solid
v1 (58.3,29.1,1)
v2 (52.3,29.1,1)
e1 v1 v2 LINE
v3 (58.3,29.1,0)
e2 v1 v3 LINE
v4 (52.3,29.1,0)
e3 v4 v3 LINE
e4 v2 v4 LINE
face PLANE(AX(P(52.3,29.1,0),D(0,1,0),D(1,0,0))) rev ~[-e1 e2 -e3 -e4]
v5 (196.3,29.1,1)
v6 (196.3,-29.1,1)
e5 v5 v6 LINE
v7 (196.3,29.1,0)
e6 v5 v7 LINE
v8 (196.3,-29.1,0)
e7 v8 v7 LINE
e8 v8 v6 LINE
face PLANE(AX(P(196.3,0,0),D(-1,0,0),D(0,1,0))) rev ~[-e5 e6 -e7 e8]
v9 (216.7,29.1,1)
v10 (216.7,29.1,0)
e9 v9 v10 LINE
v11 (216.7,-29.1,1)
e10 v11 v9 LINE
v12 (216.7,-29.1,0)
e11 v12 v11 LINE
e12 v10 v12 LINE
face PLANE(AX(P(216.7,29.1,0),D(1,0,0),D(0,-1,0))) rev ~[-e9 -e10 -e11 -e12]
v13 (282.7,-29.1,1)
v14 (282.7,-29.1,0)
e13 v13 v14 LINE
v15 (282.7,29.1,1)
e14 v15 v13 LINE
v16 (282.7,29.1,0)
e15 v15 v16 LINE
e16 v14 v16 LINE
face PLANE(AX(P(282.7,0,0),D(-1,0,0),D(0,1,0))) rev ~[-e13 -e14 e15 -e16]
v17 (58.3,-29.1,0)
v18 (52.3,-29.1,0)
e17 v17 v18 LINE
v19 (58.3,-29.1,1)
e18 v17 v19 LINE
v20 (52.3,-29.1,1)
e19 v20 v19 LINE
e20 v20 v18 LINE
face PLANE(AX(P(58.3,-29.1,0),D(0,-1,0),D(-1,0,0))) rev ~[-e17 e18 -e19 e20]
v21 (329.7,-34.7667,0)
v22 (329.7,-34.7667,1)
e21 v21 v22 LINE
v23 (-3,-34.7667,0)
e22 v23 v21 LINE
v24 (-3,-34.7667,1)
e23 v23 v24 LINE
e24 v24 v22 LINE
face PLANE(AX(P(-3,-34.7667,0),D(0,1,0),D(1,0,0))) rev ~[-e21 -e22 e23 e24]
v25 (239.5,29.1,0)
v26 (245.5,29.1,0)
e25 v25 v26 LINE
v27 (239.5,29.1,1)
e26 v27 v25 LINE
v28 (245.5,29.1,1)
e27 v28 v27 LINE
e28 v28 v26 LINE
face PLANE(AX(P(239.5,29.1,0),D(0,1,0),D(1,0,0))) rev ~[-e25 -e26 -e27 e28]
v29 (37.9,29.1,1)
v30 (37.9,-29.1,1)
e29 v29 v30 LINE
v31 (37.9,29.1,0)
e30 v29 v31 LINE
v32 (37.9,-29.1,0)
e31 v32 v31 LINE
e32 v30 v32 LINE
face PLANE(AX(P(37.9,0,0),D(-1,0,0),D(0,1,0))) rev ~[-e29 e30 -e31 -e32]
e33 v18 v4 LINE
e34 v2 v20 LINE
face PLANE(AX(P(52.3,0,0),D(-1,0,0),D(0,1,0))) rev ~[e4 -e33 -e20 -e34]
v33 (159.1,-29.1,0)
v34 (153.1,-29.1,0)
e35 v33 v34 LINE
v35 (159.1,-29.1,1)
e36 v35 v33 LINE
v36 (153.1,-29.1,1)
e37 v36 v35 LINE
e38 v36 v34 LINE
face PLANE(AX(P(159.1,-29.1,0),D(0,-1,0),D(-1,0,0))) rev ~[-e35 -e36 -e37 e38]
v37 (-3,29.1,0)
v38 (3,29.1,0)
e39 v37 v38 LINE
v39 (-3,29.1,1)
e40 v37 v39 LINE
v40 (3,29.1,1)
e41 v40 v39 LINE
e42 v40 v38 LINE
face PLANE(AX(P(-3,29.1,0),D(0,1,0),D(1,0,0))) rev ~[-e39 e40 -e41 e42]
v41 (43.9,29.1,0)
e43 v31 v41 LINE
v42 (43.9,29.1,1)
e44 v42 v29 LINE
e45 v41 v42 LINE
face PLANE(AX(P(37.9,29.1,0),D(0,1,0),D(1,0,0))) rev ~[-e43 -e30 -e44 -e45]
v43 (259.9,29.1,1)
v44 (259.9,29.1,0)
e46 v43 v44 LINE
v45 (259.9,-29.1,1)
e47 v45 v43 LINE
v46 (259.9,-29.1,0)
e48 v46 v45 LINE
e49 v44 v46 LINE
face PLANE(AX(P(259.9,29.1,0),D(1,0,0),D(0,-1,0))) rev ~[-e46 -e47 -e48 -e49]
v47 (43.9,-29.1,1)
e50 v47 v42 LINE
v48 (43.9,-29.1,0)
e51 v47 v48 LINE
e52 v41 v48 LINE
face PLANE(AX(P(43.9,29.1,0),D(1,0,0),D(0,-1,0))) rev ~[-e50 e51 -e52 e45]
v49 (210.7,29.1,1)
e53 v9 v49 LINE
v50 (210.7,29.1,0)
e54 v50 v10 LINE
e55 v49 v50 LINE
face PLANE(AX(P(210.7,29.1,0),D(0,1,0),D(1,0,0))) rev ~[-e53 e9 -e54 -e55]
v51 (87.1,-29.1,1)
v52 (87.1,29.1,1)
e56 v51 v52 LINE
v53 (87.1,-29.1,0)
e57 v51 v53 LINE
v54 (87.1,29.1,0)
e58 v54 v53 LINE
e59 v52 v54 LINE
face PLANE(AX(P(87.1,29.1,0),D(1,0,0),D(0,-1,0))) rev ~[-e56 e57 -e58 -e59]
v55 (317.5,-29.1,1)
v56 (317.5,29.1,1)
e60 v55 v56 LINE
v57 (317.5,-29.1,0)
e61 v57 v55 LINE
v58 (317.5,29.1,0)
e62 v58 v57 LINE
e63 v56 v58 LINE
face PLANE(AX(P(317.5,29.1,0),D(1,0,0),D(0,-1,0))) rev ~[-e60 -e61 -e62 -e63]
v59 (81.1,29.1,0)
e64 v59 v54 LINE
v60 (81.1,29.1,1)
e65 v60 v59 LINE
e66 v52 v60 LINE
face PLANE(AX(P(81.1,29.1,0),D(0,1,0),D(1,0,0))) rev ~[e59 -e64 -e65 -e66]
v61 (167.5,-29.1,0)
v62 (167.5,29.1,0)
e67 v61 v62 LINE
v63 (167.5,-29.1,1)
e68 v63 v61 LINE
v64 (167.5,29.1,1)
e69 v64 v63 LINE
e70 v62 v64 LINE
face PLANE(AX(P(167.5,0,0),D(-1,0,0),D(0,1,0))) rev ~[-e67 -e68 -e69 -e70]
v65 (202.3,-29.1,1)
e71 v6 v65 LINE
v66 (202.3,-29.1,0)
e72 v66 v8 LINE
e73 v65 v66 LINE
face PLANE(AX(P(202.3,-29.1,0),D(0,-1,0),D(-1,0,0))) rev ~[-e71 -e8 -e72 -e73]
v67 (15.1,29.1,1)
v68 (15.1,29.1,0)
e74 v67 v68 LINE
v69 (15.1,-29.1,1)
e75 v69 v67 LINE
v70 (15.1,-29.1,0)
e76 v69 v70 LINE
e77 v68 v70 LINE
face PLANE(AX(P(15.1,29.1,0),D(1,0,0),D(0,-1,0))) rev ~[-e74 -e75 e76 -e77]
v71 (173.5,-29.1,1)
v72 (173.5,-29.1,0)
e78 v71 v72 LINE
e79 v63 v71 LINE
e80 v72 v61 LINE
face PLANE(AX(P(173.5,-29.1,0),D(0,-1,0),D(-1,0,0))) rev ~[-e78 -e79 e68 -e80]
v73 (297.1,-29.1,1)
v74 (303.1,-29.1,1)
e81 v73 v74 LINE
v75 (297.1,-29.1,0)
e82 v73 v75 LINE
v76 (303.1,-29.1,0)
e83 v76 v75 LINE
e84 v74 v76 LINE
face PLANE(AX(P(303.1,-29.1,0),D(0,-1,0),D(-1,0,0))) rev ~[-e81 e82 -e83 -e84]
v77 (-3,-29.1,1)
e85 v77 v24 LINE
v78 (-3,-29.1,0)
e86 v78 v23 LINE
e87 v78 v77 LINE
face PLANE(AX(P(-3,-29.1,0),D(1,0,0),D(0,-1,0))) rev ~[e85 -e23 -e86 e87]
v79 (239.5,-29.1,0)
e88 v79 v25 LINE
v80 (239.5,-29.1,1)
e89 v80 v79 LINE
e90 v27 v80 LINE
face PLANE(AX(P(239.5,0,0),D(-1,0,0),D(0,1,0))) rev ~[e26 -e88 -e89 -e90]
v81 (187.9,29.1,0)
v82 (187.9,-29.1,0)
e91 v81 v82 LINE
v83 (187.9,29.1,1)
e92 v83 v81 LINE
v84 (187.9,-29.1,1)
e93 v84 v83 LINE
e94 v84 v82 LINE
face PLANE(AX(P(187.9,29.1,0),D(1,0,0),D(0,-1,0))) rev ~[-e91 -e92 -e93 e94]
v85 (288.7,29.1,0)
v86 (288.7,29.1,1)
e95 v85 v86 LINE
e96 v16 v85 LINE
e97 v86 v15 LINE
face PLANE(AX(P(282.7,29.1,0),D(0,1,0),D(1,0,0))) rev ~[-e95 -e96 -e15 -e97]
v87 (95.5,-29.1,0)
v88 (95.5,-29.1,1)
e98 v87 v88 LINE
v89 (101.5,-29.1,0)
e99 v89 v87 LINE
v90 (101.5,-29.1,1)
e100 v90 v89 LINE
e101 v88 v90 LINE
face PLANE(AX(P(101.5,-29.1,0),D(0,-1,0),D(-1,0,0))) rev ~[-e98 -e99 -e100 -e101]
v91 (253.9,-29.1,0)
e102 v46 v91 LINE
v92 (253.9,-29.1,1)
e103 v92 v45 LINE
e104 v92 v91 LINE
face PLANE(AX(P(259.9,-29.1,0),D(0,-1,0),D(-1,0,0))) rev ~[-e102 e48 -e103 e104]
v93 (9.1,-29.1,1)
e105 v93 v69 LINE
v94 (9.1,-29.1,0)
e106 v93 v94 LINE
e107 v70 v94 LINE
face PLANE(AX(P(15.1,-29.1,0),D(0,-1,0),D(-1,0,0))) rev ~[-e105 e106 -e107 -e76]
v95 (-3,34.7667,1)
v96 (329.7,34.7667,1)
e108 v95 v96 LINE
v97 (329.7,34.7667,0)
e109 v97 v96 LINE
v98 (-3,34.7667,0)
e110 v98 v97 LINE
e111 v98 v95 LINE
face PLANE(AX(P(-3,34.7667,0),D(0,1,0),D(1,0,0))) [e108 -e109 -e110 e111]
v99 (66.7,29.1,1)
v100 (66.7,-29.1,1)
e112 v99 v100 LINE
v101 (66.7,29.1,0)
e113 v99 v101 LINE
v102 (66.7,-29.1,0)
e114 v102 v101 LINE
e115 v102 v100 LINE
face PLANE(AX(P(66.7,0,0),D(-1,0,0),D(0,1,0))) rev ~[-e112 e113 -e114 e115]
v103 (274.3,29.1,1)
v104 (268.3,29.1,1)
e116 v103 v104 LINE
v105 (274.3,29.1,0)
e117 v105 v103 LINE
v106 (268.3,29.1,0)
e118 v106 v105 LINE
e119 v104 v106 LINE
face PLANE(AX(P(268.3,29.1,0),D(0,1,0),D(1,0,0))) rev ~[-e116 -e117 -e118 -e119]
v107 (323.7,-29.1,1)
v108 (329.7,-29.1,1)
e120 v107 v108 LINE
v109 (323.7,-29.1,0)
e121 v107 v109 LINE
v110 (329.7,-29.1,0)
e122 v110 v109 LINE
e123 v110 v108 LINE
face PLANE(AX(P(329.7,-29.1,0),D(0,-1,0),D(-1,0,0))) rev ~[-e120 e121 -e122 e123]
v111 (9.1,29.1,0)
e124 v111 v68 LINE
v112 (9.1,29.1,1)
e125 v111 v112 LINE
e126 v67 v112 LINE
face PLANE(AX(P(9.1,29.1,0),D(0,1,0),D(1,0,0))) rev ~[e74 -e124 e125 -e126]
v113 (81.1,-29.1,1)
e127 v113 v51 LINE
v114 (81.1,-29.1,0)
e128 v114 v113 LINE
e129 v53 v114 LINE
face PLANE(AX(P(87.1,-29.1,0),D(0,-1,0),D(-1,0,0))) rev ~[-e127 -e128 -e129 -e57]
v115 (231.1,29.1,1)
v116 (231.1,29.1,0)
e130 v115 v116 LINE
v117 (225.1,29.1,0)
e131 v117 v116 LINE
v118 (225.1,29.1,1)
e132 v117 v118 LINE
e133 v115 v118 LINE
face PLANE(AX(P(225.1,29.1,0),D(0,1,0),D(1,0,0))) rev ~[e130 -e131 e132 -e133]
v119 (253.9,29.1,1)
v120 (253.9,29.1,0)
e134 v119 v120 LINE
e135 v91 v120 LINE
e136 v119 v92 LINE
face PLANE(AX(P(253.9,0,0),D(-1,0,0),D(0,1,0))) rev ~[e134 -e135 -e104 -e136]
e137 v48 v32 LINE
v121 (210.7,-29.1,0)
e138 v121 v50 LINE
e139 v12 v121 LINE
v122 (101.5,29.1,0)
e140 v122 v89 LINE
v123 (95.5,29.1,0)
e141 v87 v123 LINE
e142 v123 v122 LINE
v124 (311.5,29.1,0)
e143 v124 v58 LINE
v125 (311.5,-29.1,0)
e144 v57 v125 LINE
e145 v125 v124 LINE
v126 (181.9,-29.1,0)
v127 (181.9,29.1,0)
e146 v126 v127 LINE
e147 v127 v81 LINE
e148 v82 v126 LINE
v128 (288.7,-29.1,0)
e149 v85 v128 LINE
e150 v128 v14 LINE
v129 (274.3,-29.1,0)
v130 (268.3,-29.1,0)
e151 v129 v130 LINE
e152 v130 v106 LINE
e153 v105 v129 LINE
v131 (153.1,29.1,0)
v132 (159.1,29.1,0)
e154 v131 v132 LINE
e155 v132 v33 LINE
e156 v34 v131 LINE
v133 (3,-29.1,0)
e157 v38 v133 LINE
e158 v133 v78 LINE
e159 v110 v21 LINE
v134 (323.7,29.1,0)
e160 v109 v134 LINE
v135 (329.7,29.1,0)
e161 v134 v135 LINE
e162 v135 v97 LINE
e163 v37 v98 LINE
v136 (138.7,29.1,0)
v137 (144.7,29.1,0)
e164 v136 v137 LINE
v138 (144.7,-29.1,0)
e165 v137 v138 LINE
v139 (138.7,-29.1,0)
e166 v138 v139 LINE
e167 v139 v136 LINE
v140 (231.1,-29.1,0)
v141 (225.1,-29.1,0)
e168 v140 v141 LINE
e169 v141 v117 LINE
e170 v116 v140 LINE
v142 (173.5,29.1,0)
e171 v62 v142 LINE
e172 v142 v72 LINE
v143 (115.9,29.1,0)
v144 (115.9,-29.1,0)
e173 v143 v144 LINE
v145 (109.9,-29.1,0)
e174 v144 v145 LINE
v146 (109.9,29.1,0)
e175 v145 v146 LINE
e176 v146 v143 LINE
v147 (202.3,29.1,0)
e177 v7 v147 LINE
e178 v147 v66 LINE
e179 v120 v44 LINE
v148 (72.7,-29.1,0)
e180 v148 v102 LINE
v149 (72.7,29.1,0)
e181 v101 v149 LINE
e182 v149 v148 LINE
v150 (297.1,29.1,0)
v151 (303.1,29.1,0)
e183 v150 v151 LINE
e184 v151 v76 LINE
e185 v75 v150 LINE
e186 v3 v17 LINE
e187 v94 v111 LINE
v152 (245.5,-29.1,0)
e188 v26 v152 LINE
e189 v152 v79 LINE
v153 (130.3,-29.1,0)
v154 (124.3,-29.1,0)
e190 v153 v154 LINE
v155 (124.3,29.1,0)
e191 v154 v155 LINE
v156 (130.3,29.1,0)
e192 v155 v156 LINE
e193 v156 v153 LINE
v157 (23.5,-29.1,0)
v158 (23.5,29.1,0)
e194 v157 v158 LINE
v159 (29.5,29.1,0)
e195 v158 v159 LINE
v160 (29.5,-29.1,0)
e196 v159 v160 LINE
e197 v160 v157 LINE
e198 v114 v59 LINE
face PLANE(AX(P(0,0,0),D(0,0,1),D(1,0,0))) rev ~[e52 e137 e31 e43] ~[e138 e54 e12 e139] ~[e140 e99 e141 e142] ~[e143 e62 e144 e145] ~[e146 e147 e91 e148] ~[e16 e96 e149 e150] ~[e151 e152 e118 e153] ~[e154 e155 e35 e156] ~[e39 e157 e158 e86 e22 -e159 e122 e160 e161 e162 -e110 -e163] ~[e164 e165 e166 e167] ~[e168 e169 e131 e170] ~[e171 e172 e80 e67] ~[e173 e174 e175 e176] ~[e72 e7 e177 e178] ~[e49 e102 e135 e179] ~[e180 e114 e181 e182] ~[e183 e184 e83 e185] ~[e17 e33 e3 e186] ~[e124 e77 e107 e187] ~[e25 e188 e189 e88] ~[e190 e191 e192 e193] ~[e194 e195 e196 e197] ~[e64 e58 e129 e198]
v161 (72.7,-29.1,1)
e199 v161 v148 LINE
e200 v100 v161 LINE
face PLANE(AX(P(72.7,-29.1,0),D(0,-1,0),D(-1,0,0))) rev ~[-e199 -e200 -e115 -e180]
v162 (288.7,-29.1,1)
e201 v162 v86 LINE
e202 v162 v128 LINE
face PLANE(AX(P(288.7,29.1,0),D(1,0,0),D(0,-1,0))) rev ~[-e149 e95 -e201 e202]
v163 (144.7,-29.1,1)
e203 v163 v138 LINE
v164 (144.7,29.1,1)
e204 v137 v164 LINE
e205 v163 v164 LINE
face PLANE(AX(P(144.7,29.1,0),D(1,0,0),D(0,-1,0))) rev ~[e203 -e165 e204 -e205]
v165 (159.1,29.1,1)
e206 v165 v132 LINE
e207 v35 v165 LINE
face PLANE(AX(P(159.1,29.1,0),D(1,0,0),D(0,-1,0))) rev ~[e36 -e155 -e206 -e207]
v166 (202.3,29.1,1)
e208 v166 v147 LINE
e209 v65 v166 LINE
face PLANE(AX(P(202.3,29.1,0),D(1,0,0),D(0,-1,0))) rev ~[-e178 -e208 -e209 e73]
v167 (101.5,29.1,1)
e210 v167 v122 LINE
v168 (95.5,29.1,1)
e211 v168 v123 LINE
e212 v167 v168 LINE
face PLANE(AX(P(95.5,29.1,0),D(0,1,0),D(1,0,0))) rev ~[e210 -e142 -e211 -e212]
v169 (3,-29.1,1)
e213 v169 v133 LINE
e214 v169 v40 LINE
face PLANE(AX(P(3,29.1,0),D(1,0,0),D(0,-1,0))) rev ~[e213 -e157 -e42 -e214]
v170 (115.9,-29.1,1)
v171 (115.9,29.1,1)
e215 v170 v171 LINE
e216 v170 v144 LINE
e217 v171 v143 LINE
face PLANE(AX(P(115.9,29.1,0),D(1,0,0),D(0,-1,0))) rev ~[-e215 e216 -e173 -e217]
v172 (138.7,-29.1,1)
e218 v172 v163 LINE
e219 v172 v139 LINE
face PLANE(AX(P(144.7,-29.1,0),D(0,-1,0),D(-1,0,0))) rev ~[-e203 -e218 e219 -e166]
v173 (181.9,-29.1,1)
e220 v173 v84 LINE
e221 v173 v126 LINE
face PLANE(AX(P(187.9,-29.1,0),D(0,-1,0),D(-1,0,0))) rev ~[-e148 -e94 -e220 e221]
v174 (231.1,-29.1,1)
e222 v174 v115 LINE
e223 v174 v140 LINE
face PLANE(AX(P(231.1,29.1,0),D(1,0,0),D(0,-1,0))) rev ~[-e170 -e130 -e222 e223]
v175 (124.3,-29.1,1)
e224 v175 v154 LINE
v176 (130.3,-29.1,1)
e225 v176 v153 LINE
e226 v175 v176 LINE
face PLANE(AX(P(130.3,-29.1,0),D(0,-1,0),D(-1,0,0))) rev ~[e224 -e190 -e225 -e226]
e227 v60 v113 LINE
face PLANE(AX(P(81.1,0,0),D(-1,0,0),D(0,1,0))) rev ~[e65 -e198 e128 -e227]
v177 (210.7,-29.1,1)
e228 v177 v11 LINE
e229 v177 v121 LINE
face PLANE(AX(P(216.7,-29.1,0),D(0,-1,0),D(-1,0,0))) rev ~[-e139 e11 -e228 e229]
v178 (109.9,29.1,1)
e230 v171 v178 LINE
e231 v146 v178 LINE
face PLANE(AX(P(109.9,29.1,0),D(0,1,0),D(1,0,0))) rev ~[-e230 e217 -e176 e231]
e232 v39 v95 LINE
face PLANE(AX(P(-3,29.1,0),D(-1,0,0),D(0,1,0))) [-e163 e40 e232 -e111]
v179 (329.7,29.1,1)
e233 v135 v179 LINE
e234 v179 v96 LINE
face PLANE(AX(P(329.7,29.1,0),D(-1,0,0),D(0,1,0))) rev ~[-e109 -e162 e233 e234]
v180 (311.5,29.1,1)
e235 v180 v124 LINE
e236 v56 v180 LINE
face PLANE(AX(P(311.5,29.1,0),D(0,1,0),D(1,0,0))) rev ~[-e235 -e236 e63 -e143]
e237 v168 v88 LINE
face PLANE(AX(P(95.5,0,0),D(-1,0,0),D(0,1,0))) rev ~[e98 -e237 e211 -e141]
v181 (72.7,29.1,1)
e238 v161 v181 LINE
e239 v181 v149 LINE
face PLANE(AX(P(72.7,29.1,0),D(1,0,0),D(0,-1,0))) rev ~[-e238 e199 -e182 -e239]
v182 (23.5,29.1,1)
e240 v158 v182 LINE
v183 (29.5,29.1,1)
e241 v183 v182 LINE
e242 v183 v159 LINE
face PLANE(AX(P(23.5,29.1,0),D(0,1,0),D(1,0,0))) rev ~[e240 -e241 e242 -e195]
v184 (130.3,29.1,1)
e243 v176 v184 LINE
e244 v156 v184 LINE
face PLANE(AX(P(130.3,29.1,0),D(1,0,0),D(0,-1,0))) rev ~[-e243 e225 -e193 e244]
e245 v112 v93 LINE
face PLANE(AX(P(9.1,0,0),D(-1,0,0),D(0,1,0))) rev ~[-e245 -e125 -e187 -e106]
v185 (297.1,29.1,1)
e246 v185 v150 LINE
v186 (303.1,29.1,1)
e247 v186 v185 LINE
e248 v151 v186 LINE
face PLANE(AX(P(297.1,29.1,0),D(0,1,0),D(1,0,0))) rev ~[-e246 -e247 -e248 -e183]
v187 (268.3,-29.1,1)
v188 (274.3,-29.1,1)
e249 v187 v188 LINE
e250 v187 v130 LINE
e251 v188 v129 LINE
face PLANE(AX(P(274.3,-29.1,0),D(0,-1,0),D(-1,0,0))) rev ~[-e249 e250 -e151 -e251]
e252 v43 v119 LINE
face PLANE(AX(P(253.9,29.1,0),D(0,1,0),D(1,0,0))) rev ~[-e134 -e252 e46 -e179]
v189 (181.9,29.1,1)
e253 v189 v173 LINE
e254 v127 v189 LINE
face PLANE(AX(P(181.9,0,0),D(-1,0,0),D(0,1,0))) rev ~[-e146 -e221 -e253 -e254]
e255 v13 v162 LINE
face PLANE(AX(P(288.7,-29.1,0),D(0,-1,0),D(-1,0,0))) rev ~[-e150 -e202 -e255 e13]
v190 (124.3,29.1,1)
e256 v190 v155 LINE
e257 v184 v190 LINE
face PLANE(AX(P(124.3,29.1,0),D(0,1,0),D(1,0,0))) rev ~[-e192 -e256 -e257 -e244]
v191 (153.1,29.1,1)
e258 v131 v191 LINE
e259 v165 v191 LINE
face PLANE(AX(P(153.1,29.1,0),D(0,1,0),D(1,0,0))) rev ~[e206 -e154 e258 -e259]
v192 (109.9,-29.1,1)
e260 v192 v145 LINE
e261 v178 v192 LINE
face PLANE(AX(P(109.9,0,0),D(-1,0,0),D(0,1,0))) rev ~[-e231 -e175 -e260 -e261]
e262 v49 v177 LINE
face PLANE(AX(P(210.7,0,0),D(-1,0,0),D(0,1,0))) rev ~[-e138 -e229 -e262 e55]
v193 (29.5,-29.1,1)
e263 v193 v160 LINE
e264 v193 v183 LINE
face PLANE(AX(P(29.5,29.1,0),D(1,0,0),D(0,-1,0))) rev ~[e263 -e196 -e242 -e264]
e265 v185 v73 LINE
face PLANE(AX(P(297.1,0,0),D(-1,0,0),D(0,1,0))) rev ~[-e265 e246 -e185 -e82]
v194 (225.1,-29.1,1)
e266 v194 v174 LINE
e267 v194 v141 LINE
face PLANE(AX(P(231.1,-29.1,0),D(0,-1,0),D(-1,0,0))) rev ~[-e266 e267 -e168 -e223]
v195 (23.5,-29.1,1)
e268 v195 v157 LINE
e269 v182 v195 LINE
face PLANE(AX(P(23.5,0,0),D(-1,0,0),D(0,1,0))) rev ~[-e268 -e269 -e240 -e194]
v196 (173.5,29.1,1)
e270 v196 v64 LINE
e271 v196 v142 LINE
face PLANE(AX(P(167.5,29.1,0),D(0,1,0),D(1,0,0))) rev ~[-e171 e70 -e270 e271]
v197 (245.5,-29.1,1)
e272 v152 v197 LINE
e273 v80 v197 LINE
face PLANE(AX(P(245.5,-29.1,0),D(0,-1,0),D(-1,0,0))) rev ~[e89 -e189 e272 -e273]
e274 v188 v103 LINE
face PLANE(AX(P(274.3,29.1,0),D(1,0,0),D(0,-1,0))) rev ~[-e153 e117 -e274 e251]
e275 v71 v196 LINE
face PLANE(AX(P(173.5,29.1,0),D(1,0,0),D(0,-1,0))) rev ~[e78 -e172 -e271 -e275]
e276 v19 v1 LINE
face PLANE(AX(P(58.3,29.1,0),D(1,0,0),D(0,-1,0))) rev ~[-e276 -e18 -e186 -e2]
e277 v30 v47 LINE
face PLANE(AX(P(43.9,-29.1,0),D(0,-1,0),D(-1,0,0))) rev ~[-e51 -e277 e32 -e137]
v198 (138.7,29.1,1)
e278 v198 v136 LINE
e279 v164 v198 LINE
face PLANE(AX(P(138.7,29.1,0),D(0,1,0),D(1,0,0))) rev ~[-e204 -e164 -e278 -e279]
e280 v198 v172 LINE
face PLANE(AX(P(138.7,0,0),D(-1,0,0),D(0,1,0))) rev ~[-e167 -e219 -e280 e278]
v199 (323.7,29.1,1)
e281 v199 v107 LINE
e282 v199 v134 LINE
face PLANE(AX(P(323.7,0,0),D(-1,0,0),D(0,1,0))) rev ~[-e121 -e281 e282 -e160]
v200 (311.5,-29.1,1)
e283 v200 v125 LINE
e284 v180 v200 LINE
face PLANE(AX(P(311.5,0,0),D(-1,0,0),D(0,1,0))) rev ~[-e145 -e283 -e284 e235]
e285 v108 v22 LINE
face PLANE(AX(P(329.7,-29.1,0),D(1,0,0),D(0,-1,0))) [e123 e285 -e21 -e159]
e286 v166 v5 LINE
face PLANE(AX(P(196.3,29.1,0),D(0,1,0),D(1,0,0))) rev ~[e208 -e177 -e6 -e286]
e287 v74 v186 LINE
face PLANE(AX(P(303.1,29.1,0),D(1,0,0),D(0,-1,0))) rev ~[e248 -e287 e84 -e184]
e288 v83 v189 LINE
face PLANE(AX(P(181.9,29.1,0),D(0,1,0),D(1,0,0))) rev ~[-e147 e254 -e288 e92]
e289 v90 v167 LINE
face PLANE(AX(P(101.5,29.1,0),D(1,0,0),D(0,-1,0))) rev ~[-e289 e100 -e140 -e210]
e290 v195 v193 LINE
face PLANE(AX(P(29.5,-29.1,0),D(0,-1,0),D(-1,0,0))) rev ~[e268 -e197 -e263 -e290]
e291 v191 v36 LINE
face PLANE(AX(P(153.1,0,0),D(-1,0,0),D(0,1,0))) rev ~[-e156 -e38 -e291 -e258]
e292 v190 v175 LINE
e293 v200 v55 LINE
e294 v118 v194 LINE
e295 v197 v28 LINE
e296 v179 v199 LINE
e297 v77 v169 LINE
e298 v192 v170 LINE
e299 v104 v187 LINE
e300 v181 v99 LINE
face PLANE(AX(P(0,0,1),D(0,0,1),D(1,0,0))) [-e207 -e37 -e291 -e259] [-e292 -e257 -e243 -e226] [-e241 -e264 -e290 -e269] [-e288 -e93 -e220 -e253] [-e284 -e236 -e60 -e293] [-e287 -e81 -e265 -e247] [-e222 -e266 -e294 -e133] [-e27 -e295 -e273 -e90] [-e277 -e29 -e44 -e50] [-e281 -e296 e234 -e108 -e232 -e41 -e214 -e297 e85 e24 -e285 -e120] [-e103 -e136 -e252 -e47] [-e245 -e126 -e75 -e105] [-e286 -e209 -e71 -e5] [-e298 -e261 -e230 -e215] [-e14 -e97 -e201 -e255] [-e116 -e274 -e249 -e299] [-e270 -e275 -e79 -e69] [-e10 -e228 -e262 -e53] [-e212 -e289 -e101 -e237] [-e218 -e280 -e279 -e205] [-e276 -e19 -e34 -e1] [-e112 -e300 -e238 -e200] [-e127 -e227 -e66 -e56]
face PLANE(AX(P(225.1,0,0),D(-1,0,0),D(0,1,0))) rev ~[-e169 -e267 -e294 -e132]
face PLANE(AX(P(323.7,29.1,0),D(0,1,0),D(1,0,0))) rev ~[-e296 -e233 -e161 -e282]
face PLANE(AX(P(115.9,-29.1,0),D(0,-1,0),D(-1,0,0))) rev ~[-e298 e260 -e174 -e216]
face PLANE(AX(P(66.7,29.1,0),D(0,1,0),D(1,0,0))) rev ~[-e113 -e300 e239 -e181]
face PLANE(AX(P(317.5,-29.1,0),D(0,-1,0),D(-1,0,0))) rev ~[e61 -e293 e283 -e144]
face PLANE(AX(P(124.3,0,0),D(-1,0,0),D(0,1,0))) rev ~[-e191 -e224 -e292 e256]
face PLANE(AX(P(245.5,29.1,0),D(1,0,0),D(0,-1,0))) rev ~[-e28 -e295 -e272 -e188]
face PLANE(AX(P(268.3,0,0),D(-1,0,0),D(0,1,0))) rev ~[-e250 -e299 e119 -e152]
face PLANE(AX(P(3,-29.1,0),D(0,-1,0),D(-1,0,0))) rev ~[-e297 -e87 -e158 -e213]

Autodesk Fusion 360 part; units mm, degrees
sketch "Skizze1" plane through (0, 0, 0) normal (0, 0, 1) x (1, 0, 0)
  line L0 (-3, 29.1) -> (3, 29.1)
  line L1 (3, 29.1) -> (3, 0)
  line L2 (3, 0) -> (-3, 0)
  line L3 (-3, 0) -> (-3, 29.1)
  line L4 (0, 29.1) -> (0, 0) construction
  line L5 (0, 0) -> (500, 0) construction
  line L6 (9.1, 29.1) -> (15.1, 29.1)
  line L7 (15.1, 29.1) -> (15.1, 0)
  line L8 (15.1, 0) -> (9.1, 0)
  line L9 (9.1, 0) -> (9.1, 29.1)
  line L10 (12.1, 29.1) -> (12.1, 0) construction
  line L11 (26.5, 29.1) -> (26.5, 0) construction
  line L12 (23.5, 29.1) -> (29.5, 29.1)
  line L13 (29.5, 0) -> (23.5, 0)
  line L14 (23.5, 0) -> (23.5, 29.1)
  line L15 (29.5, 29.1) -> (29.5, 0)
  line L16 (58.3, 0) -> (52.3, 0)
  line L17 (55.3, 29.1) -> (55.3, 0) construction
  line L18 (43.9, 29.1) -> (43.9, 0)
  line L19 (37.9, 29.1) -> (43.9, 29.1)
  line L20 (52.3, 29.1) -> (58.3, 29.1)
  line L21 (58.3, 29.1) -> (58.3, 0)
  line L22 (40.9, 29.1) -> (40.9, 0) construction
  line L23 (43.9, 0) -> (37.9, 0)
  line L24 (52.3, 0) -> (52.3, 29.1)
  line L25 (37.9, 0) -> (37.9, 29.1)
  line L26 (84.1, 29.1) -> (84.1, 0) construction
  line L27 (66.7, 0) -> (66.7, 29.1)
  line L28 (69.7, 29.1) -> (69.7, 0) construction
  line L29 (95.5, 0) -> (95.5, 29.1)
  line L30 (98.5, 29.1) -> (98.5, 0) construction
  line L31 (66.7, 29.1) -> (72.7, 29.1)
  line L32 (81.1, 0) -> (81.1, 29.1)
  line L33 (72.7, 29.1) -> (72.7, 0)
  line L34 (101.5, 29.1) -> (101.5, 0)
  line L35 (95.5, 29.1) -> (101.5, 29.1)
  line L36 (109.9, 29.1) -> (115.9, 29.1)
  line L37 (72.7, 0) -> (66.7, 0)
  line L38 (87.1, 0) -> (81.1, 0)
  line L39 (109.9, 0) -> (109.9, 29.1)
  line L40 (115.9, 0) -> (109.9, 0)
  line L41 (115.9, 29.1) -> (115.9, 0)
  line L42 (112.9, 29.1) -> (112.9, 0) construction
  line L43 (81.1, 29.1) -> (87.1, 29.1)
  line L44 (87.1, 29.1) -> (87.1, 0)
  line L45 (101.5, 0) -> (95.5, 0)
  line L46 (156.1, 29.1) -> (156.1, 0) construction
  line L47 (144.7, 29.1) -> (144.7, 0)
  line L48 (153.1, 29.1) -> (159.1, 29.1)
  line L49 (138.7, 29.1) -> (144.7, 29.1)
  line L50 (153.1, 0) -> (153.1, 29.1)
  line L51 (167.5, 29.1) -> (173.5, 29.1)
  line L52 (196.3, 0) -> (196.3, 29.1)
  line L53 (202.3, 0) -> (196.3, 0)
  line L54 (216.7, 0) -> (210.7, 0)
  line L55 (130.3, 29.1) -> (130.3, 0)
  line L56 (130.3, 0) -> (124.3, 0)
  line L57 (181.9, 29.1) -> (187.9, 29.1)
  line L58 (173.5, 29.1) -> (173.5, 0)
  line L59 (124.3, 0) -> (124.3, 29.1)
  line L60 (144.7, 0) -> (138.7, 0)
  line L61 (210.7, 0) -> (210.7, 29.1)
  line L62 (225.1, 29.1) -> (231.1, 29.1)
  line L63 (127.3, 29.1) -> (127.3, 0) construction
  line L64 (159.1, 29.1) -> (159.1, 0)
  line L65 (210.7, 29.1) -> (216.7, 29.1)
  line L66 (187.9, 0) -> (181.9, 0)
  line L67 (216.7, 29.1) -> (216.7, 0)
  line L68 (138.7, 0) -> (138.7, 29.1)
  line L69 (187.9, 29.1) -> (187.9, 0)
  line L70 (199.3, 29.1) -> (199.3, 0) construction
  line L71 (213.7, 29.1) -> (213.7, 0) construction
  line L72 (228.1, 29.1) -> (228.1, 0) construction
  line L73 (159.1, 0) -> (153.1, 0)
  line L74 (170.5, 29.1) -> (170.5, 0) construction
  line L75 (196.3, 29.1) -> (202.3, 29.1)
  line L76 (141.7, 29.1) -> (141.7, 0) construction
  line L77 (225.1, 0) -> (225.1, 29.1)
  line L78 (184.9, 29.1) -> (184.9, 0) construction
  line L79 (181.9, 0) -> (181.9, 29.1)
  line L80 (173.5, 0) -> (167.5, 0)
  line L81 (231.1, 29.1) -> (231.1, 0)
  line L82 (167.5, 0) -> (167.5, 29.1)
  line L83 (202.3, 29.1) -> (202.3, 0)
  line L84 (124.3, 29.1) -> (130.3, 29.1)
  line L85 (231.1, 0) -> (225.1, 0)
  line L86 (288.7, 29.1) -> (288.7, 0)
  line L87 (317.5, 0) -> (311.5, 0)
  line L88 (329.7, 29.1) -> (329.7, 0)
  line L89 (285.7, 29.1) -> (285.7, 0) construction
  line L90 (329.7, 0) -> (323.7, 0)
  line L91 (311.5, 29.1) -> (317.5, 29.1)
  line L92 (303.1, 29.1) -> (303.1, 0)
  line L93 (245.5, 0) -> (239.5, 0)
  line L94 (323.7, 29.1) -> (329.7, 29.1)
  line L95 (271.3, 29.1) -> (271.3, 0) construction
  line L96 (282.7, 29.1) -> (288.7, 29.1)
  line L97 (282.7, 0) -> (282.7, 29.1)
  line L98 (300.1, 29.1) -> (300.1, 0) construction
  line L99 (274.3, 29.1) -> (274.3, 0)
  line L100 (326.7, 29.1) -> (326.7, 0) construction
  line L101 (268.3, 0) -> (268.3, 29.1)
  line L102 (259.9, 0) -> (253.9, 0)
  line L103 (253.9, 29.1) -> (259.9, 29.1)
  line L104 (303.1, 0) -> (297.1, 0)
  line L105 (288.7, 0) -> (282.7, 0)
  line L106 (297.1, 29.1) -> (303.1, 29.1)
  line L107 (314.5, 29.1) -> (314.5, 0) construction
  line L108 (317.5, 29.1) -> (317.5, 0)
  line L109 (245.5, 29.1) -> (245.5, 0)
  line L110 (323.7, 0) -> (323.7, 29.1)
  line L111 (239.5, 29.1) -> (245.5, 29.1)
  line L112 (253.9, 0) -> (253.9, 29.1)
  line L113 (239.5, 0) -> (239.5, 29.1)
  line L114 (242.5, 29.1) -> (242.5, 0) construction
  line L115 (311.5, 0) -> (311.5, 29.1)
  line L116 (259.9, 29.1) -> (259.9, 0)
  line L117 (268.3, 29.1) -> (274.3, 29.1)
  line L118 (274.3, 0) -> (268.3, 0)
  line L119 (297.1, 0) -> (297.1, 29.1)
  line L120 (256.9, 29.1) -> (256.9, 0) construction
  dimension "d3" = 500
  dimension "d4" = 29.1
  dimension "d5" = 6
  dimension "d8" = 29.1
  dimension "d9" = 6
  dimension "d10" = 29.1
  dimension "d11" = 6
  dimension "d12" = 29.1
  dimension "d13" = 6
  dimension "d14" = 29.1
  dimension "d15" = 6
  dimension "d16" = 29.1
  dimension "d17" = 6
  dimension "d18" = 29.1
  dimension "d19" = 6
  dimension "d20" = 29.1
  dimension "d21" = 6
  dimension "d22" = 29.1
  dimension "d23" = 6
  dimension "d24" = 29.1
  dimension "d25" = 6
  dimension "d26" = 29.1
  dimension "d27" = 6
  dimension "d28" = 29.1
  dimension "d29" = 6
  dimension "d30" = 29.1
  dimension "d31" = 6
  dimension "d32" = 29.1
  dimension "d33" = 6
  dimension "d34" = 29.1
  dimension "d35" = 6
  dimension "d36" = 29.1
  dimension "d37" = 6
  dimension "d38" = 29.1
  dimension "d39" = 6
  dimension "d40" = 29.1
  dimension "d41" = 6
  dimension "d42" = 29.1
  dimension "d43" = 6
  dimension "d44" = 29.1
  dimension "d45" = 6
  dimension "d46" = 29.1
  dimension "d47" = 6
  dimension "d48" = 29.1
  dimension "d49" = 6
  dimension "d50" = 29.1
  dimension "d51" = 6
  dimension "d52" = 29.1
  dimension "d53" = 6
  dimension "d54" = 12.1
  dimension "d55" = 14.4
  dimension "d56" = 14.4
  dimension "d57" = 14.4
  dimension "d58" = 14.4
  dimension "d59" = 14.4
  dimension "d60" = 14.4
  dimension "d61" = 14.4
  dimension "d62" = 14.4
  dimension "d63" = 14.4
  dimension "d64" = 14.4
  dimension "d65" = 14.4
  dimension "d66" = 14.4
  dimension "d67" = 14.4
  dimension "d68" = 14.4
  dimension "d69" = 14.4
  dimension "d70" = 14.4
  dimension "d71" = 14.4
  dimension "d72" = 14.4
  dimension "d73" = 14.4
  dimension "d74" = 14.4
  dimension "d75" = 14.4
  dimension "d76" = 12.2
extrude "Extrusion1" add sketch "Skizze1" along normal blind 3 makes body 1 at (301.1, 19.4, 0) makes body 2 at (243.5, 9.7, 0) makes body 3 at (183.9, 19.4, 0) makes body 4 at (126.3, 9.7, 0) makes body 5 at (68.7, 19.4, 0) makes body 6 at (13.1, 9.7, 0) makes body 7 at (27.5, 9.7, 0) makes body 8 at (83.1, 9.7, 0) makes body 9 at (140.7, 19.4, 0) makes body 10 at (200.3, 9.7, 0) makes body 11 at (255.9, 9.7, 0) makes body 12 at (313.5, 9.7, 0) makes body 13 at (284.7, 9.7, 0) makes body 14 at (229.1, 9.7, 0) makes body 15 at (171.5, 9.7, 0) makes body 16 at (113.9, 19.4, 0) makes body 17 at (56.3, 9.7, 0) makes body 18 at (1, 9.7, 0) makes body 19 at (41.9, 9.7, 0) makes body 20 at (97.5, 9.7, 0) makes body 21 at (155.1, 19.4, 0) makes body 22 at (212.7, 19.4, 0) makes body 23 at (270.3, 9.7, 0) makes body 24 at (327.7, 19.4, 0)
move_face "Flächen versetzen1" offset 29.1 24 faces at (229.1, 0, 1) (56.3, 0, 1) (1, 0, 1) (41.9, 0, 1) (99.5, 0, 1) (157.1, 0, 1) (214.7, 0, 1) (272.3, 0, 1) (327.7, 0, 1) (286.7, 0, 1) (301.1, 0, 1) (243.5, 0, 1) (185.9, 0, 1) (128.3, 0, 1) (70.7, 0, 1) (13.1, 0, 1) (27.5, 0, 1) (85.1, 0, 1) (142.7, 0, 1) (200.3, 0, 1) (257.9, 0, 1) (315.5, 0, 1) (171.5, 0, 1) (113.9, 0, 1) on bodies 1 2 3 4 5 6 7 8 9 10 11 12 13 14 15 16 17 18 19 20 21 22 23 24
sketch "Skizze2" plane through (0, 0, 0) normal (0, 0, 1) x (1, 0, 0)
  line L0 (-3, 29.1) -> (-3, -29.1)
  line L1 (329.7, -29.1) -> (329.7, 29.1)
  line L2 (-3, 29.1) -> (-3, 34.7667)
  line L3 (-3, -29.1) -> (-3, -34.7667)
  line L4 (329.7, 29.1) -> (329.7, 34.7667)
  line L5 (329.7, -29.1) -> (329.7, -34.7667)
  line L6 (-3, 34.7667) -> (329.7, 34.7667)
  line L7 (-3, -34.7667) -> (329.7, -34.7667)
  dimension "d80" = 5.6667
  dimension "d81" = 5.6667
  dimension "d82" = 5.6667
  dimension "d83" = 5.6667
extrude "Extrusion2" add sketch "Skizze2" along normal blind 1 separate body makes body 25
combine "Kombinieren1" operation cut target body 25 tool bodies 18 6 7 19 17 5 8 20 16 4 9 21 15 3 10 22 14 2 11 23 13 1 12 24 keep tools
hidden bodies 1 2 3 4 5 6 7 8 9 10 11 12 13 14 15 16 17 18 19 20 21 22 23 24
equation "Schwellen_Länge = 58 mm + 0.2 mm"
equation "Schwellen_Breite = 5.8 mm + 0.2 mm"
equation "d4 = Schwellen_Länge / 2"
equation "d5 = Schwellen_Breite"
equation "d8 = Schwellen_Länge / 2"
equation "d9 = Schwellen_Breite"
equation "d10 = Schwellen_Länge / 2"
equation "d11 = Schwellen_Breite"
equation "d12 = Schwellen_Länge / 2"
equation "d13 = Schwellen_Breite"
equation "d14 = Schwellen_Länge / 2"
equation "d15 = Schwellen_Breite"
equation "d16 = Schwellen_Länge / 2"
equation "d17 = Schwellen_Breite"
equation "d18 = Schwellen_Länge / 2"
equation "d19 = Schwellen_Breite"
equation "d20 = Schwellen_Länge / 2"
equation "d21 = Schwellen_Breite"
equation "d22 = Schwellen_Länge / 2"
equation "d23 = Schwellen_Breite"
equation "d24 = Schwellen_Länge / 2"
equation "d25 = Schwellen_Breite"
equation "d26 = Schwellen_Länge / 2"
equation "d27 = Schwellen_Breite"
equation "d28 = Schwellen_Länge / 2"
equation "d29 = Schwellen_Breite"
equation "d30 = Schwellen_Länge / 2"
equation "d31 = Schwellen_Breite"
equation "d32 = Schwellen_Länge / 2"
equation "d33 = Schwellen_Breite"
equation "d34 = Schwellen_Länge / 2"
equation "d35 = Schwellen_Breite"
equation "d36 = Schwellen_Länge / 2"
equation "d37 = Schwellen_Breite"
equation "d38 = Schwellen_Länge / 2"
equation "d39 = Schwellen_Breite"
equation "d40 = Schwellen_Länge / 2"
equation "d41 = Schwellen_Breite"
equation "d42 = Schwellen_Länge / 2"
equation "d43 = Schwellen_Breite"
equation "d44 = Schwellen_Länge / 2"
equation "d45 = Schwellen_Breite"
equation "d46 = Schwellen_Länge / 2"
equation "d47 = Schwellen_Breite"
equation "d48 = Schwellen_Länge / 2"
equation "d49 = Schwellen_Breite"
equation "d50 = Schwellen_Länge / 2"
equation "d51 = Schwellen_Breite"
equation "d52 = Schwellen_Länge / 2"
equation "d53 = Schwellen_Breite"
equation "d54 = Schwellen_Abstand_Anfang"
equation "d55 = Schwellen_Abstand_Mitte"
equation "d56 = Schwellen_Abstand_Mitte"
equation "d57 = Schwellen_Abstand_Mitte"
equation "d58 = Schwellen_Abstand_Mitte"
equation "d59 = Schwellen_Abstand_Mitte"
equation "d60 = Schwellen_Abstand_Mitte"
equation "d61 = Schwellen_Abstand_Mitte"
equation "d62 = Schwellen_Abstand_Mitte"
equation "d63 = Schwellen_Abstand_Mitte"
equation "d64 = Schwellen_Abstand_Mitte"
equation "d65 = Schwellen_Abstand_Mitte"
equation "d66 = Schwellen_Abstand_Mitte"
equation "d67 = Schwellen_Abstand_Mitte"
equation "d68 = Schwellen_Abstand_Mitte"
equation "d69 = Schwellen_Abstand_Mitte"
equation "d70 = Schwellen_Abstand_Mitte"
equation "d71 = Schwellen_Abstand_Mitte"
equation "d72 = Schwellen_Abstand_Mitte"
equation "d73 = Schwellen_Abstand_Mitte"
equation "d74 = Schwellen_Abstand_Mitte"
equation "d75 = Schwellen_Abstand_Mitte"
equation "d76 = Schwellen_Abstand_Ende"
equation "d79 = Schwellen_Länge / 2"
equation "d80 = ( Trassenbrett_Breite / Schwellen_Breite / 2 ) * 1 mm"
equation "d81 = d80"
equation "d82 = d80"
equation "d83 = d80"
equation "Schwellen_Abstand_Anfang = 12.1 mm"
equation "Schwellen_Abstand_Mitte = 14.4 mm"
equation "Schwellen_Abstand_Ende = 12.2 mm"
equation "Trassenbrett_Breite = 68 mm"
